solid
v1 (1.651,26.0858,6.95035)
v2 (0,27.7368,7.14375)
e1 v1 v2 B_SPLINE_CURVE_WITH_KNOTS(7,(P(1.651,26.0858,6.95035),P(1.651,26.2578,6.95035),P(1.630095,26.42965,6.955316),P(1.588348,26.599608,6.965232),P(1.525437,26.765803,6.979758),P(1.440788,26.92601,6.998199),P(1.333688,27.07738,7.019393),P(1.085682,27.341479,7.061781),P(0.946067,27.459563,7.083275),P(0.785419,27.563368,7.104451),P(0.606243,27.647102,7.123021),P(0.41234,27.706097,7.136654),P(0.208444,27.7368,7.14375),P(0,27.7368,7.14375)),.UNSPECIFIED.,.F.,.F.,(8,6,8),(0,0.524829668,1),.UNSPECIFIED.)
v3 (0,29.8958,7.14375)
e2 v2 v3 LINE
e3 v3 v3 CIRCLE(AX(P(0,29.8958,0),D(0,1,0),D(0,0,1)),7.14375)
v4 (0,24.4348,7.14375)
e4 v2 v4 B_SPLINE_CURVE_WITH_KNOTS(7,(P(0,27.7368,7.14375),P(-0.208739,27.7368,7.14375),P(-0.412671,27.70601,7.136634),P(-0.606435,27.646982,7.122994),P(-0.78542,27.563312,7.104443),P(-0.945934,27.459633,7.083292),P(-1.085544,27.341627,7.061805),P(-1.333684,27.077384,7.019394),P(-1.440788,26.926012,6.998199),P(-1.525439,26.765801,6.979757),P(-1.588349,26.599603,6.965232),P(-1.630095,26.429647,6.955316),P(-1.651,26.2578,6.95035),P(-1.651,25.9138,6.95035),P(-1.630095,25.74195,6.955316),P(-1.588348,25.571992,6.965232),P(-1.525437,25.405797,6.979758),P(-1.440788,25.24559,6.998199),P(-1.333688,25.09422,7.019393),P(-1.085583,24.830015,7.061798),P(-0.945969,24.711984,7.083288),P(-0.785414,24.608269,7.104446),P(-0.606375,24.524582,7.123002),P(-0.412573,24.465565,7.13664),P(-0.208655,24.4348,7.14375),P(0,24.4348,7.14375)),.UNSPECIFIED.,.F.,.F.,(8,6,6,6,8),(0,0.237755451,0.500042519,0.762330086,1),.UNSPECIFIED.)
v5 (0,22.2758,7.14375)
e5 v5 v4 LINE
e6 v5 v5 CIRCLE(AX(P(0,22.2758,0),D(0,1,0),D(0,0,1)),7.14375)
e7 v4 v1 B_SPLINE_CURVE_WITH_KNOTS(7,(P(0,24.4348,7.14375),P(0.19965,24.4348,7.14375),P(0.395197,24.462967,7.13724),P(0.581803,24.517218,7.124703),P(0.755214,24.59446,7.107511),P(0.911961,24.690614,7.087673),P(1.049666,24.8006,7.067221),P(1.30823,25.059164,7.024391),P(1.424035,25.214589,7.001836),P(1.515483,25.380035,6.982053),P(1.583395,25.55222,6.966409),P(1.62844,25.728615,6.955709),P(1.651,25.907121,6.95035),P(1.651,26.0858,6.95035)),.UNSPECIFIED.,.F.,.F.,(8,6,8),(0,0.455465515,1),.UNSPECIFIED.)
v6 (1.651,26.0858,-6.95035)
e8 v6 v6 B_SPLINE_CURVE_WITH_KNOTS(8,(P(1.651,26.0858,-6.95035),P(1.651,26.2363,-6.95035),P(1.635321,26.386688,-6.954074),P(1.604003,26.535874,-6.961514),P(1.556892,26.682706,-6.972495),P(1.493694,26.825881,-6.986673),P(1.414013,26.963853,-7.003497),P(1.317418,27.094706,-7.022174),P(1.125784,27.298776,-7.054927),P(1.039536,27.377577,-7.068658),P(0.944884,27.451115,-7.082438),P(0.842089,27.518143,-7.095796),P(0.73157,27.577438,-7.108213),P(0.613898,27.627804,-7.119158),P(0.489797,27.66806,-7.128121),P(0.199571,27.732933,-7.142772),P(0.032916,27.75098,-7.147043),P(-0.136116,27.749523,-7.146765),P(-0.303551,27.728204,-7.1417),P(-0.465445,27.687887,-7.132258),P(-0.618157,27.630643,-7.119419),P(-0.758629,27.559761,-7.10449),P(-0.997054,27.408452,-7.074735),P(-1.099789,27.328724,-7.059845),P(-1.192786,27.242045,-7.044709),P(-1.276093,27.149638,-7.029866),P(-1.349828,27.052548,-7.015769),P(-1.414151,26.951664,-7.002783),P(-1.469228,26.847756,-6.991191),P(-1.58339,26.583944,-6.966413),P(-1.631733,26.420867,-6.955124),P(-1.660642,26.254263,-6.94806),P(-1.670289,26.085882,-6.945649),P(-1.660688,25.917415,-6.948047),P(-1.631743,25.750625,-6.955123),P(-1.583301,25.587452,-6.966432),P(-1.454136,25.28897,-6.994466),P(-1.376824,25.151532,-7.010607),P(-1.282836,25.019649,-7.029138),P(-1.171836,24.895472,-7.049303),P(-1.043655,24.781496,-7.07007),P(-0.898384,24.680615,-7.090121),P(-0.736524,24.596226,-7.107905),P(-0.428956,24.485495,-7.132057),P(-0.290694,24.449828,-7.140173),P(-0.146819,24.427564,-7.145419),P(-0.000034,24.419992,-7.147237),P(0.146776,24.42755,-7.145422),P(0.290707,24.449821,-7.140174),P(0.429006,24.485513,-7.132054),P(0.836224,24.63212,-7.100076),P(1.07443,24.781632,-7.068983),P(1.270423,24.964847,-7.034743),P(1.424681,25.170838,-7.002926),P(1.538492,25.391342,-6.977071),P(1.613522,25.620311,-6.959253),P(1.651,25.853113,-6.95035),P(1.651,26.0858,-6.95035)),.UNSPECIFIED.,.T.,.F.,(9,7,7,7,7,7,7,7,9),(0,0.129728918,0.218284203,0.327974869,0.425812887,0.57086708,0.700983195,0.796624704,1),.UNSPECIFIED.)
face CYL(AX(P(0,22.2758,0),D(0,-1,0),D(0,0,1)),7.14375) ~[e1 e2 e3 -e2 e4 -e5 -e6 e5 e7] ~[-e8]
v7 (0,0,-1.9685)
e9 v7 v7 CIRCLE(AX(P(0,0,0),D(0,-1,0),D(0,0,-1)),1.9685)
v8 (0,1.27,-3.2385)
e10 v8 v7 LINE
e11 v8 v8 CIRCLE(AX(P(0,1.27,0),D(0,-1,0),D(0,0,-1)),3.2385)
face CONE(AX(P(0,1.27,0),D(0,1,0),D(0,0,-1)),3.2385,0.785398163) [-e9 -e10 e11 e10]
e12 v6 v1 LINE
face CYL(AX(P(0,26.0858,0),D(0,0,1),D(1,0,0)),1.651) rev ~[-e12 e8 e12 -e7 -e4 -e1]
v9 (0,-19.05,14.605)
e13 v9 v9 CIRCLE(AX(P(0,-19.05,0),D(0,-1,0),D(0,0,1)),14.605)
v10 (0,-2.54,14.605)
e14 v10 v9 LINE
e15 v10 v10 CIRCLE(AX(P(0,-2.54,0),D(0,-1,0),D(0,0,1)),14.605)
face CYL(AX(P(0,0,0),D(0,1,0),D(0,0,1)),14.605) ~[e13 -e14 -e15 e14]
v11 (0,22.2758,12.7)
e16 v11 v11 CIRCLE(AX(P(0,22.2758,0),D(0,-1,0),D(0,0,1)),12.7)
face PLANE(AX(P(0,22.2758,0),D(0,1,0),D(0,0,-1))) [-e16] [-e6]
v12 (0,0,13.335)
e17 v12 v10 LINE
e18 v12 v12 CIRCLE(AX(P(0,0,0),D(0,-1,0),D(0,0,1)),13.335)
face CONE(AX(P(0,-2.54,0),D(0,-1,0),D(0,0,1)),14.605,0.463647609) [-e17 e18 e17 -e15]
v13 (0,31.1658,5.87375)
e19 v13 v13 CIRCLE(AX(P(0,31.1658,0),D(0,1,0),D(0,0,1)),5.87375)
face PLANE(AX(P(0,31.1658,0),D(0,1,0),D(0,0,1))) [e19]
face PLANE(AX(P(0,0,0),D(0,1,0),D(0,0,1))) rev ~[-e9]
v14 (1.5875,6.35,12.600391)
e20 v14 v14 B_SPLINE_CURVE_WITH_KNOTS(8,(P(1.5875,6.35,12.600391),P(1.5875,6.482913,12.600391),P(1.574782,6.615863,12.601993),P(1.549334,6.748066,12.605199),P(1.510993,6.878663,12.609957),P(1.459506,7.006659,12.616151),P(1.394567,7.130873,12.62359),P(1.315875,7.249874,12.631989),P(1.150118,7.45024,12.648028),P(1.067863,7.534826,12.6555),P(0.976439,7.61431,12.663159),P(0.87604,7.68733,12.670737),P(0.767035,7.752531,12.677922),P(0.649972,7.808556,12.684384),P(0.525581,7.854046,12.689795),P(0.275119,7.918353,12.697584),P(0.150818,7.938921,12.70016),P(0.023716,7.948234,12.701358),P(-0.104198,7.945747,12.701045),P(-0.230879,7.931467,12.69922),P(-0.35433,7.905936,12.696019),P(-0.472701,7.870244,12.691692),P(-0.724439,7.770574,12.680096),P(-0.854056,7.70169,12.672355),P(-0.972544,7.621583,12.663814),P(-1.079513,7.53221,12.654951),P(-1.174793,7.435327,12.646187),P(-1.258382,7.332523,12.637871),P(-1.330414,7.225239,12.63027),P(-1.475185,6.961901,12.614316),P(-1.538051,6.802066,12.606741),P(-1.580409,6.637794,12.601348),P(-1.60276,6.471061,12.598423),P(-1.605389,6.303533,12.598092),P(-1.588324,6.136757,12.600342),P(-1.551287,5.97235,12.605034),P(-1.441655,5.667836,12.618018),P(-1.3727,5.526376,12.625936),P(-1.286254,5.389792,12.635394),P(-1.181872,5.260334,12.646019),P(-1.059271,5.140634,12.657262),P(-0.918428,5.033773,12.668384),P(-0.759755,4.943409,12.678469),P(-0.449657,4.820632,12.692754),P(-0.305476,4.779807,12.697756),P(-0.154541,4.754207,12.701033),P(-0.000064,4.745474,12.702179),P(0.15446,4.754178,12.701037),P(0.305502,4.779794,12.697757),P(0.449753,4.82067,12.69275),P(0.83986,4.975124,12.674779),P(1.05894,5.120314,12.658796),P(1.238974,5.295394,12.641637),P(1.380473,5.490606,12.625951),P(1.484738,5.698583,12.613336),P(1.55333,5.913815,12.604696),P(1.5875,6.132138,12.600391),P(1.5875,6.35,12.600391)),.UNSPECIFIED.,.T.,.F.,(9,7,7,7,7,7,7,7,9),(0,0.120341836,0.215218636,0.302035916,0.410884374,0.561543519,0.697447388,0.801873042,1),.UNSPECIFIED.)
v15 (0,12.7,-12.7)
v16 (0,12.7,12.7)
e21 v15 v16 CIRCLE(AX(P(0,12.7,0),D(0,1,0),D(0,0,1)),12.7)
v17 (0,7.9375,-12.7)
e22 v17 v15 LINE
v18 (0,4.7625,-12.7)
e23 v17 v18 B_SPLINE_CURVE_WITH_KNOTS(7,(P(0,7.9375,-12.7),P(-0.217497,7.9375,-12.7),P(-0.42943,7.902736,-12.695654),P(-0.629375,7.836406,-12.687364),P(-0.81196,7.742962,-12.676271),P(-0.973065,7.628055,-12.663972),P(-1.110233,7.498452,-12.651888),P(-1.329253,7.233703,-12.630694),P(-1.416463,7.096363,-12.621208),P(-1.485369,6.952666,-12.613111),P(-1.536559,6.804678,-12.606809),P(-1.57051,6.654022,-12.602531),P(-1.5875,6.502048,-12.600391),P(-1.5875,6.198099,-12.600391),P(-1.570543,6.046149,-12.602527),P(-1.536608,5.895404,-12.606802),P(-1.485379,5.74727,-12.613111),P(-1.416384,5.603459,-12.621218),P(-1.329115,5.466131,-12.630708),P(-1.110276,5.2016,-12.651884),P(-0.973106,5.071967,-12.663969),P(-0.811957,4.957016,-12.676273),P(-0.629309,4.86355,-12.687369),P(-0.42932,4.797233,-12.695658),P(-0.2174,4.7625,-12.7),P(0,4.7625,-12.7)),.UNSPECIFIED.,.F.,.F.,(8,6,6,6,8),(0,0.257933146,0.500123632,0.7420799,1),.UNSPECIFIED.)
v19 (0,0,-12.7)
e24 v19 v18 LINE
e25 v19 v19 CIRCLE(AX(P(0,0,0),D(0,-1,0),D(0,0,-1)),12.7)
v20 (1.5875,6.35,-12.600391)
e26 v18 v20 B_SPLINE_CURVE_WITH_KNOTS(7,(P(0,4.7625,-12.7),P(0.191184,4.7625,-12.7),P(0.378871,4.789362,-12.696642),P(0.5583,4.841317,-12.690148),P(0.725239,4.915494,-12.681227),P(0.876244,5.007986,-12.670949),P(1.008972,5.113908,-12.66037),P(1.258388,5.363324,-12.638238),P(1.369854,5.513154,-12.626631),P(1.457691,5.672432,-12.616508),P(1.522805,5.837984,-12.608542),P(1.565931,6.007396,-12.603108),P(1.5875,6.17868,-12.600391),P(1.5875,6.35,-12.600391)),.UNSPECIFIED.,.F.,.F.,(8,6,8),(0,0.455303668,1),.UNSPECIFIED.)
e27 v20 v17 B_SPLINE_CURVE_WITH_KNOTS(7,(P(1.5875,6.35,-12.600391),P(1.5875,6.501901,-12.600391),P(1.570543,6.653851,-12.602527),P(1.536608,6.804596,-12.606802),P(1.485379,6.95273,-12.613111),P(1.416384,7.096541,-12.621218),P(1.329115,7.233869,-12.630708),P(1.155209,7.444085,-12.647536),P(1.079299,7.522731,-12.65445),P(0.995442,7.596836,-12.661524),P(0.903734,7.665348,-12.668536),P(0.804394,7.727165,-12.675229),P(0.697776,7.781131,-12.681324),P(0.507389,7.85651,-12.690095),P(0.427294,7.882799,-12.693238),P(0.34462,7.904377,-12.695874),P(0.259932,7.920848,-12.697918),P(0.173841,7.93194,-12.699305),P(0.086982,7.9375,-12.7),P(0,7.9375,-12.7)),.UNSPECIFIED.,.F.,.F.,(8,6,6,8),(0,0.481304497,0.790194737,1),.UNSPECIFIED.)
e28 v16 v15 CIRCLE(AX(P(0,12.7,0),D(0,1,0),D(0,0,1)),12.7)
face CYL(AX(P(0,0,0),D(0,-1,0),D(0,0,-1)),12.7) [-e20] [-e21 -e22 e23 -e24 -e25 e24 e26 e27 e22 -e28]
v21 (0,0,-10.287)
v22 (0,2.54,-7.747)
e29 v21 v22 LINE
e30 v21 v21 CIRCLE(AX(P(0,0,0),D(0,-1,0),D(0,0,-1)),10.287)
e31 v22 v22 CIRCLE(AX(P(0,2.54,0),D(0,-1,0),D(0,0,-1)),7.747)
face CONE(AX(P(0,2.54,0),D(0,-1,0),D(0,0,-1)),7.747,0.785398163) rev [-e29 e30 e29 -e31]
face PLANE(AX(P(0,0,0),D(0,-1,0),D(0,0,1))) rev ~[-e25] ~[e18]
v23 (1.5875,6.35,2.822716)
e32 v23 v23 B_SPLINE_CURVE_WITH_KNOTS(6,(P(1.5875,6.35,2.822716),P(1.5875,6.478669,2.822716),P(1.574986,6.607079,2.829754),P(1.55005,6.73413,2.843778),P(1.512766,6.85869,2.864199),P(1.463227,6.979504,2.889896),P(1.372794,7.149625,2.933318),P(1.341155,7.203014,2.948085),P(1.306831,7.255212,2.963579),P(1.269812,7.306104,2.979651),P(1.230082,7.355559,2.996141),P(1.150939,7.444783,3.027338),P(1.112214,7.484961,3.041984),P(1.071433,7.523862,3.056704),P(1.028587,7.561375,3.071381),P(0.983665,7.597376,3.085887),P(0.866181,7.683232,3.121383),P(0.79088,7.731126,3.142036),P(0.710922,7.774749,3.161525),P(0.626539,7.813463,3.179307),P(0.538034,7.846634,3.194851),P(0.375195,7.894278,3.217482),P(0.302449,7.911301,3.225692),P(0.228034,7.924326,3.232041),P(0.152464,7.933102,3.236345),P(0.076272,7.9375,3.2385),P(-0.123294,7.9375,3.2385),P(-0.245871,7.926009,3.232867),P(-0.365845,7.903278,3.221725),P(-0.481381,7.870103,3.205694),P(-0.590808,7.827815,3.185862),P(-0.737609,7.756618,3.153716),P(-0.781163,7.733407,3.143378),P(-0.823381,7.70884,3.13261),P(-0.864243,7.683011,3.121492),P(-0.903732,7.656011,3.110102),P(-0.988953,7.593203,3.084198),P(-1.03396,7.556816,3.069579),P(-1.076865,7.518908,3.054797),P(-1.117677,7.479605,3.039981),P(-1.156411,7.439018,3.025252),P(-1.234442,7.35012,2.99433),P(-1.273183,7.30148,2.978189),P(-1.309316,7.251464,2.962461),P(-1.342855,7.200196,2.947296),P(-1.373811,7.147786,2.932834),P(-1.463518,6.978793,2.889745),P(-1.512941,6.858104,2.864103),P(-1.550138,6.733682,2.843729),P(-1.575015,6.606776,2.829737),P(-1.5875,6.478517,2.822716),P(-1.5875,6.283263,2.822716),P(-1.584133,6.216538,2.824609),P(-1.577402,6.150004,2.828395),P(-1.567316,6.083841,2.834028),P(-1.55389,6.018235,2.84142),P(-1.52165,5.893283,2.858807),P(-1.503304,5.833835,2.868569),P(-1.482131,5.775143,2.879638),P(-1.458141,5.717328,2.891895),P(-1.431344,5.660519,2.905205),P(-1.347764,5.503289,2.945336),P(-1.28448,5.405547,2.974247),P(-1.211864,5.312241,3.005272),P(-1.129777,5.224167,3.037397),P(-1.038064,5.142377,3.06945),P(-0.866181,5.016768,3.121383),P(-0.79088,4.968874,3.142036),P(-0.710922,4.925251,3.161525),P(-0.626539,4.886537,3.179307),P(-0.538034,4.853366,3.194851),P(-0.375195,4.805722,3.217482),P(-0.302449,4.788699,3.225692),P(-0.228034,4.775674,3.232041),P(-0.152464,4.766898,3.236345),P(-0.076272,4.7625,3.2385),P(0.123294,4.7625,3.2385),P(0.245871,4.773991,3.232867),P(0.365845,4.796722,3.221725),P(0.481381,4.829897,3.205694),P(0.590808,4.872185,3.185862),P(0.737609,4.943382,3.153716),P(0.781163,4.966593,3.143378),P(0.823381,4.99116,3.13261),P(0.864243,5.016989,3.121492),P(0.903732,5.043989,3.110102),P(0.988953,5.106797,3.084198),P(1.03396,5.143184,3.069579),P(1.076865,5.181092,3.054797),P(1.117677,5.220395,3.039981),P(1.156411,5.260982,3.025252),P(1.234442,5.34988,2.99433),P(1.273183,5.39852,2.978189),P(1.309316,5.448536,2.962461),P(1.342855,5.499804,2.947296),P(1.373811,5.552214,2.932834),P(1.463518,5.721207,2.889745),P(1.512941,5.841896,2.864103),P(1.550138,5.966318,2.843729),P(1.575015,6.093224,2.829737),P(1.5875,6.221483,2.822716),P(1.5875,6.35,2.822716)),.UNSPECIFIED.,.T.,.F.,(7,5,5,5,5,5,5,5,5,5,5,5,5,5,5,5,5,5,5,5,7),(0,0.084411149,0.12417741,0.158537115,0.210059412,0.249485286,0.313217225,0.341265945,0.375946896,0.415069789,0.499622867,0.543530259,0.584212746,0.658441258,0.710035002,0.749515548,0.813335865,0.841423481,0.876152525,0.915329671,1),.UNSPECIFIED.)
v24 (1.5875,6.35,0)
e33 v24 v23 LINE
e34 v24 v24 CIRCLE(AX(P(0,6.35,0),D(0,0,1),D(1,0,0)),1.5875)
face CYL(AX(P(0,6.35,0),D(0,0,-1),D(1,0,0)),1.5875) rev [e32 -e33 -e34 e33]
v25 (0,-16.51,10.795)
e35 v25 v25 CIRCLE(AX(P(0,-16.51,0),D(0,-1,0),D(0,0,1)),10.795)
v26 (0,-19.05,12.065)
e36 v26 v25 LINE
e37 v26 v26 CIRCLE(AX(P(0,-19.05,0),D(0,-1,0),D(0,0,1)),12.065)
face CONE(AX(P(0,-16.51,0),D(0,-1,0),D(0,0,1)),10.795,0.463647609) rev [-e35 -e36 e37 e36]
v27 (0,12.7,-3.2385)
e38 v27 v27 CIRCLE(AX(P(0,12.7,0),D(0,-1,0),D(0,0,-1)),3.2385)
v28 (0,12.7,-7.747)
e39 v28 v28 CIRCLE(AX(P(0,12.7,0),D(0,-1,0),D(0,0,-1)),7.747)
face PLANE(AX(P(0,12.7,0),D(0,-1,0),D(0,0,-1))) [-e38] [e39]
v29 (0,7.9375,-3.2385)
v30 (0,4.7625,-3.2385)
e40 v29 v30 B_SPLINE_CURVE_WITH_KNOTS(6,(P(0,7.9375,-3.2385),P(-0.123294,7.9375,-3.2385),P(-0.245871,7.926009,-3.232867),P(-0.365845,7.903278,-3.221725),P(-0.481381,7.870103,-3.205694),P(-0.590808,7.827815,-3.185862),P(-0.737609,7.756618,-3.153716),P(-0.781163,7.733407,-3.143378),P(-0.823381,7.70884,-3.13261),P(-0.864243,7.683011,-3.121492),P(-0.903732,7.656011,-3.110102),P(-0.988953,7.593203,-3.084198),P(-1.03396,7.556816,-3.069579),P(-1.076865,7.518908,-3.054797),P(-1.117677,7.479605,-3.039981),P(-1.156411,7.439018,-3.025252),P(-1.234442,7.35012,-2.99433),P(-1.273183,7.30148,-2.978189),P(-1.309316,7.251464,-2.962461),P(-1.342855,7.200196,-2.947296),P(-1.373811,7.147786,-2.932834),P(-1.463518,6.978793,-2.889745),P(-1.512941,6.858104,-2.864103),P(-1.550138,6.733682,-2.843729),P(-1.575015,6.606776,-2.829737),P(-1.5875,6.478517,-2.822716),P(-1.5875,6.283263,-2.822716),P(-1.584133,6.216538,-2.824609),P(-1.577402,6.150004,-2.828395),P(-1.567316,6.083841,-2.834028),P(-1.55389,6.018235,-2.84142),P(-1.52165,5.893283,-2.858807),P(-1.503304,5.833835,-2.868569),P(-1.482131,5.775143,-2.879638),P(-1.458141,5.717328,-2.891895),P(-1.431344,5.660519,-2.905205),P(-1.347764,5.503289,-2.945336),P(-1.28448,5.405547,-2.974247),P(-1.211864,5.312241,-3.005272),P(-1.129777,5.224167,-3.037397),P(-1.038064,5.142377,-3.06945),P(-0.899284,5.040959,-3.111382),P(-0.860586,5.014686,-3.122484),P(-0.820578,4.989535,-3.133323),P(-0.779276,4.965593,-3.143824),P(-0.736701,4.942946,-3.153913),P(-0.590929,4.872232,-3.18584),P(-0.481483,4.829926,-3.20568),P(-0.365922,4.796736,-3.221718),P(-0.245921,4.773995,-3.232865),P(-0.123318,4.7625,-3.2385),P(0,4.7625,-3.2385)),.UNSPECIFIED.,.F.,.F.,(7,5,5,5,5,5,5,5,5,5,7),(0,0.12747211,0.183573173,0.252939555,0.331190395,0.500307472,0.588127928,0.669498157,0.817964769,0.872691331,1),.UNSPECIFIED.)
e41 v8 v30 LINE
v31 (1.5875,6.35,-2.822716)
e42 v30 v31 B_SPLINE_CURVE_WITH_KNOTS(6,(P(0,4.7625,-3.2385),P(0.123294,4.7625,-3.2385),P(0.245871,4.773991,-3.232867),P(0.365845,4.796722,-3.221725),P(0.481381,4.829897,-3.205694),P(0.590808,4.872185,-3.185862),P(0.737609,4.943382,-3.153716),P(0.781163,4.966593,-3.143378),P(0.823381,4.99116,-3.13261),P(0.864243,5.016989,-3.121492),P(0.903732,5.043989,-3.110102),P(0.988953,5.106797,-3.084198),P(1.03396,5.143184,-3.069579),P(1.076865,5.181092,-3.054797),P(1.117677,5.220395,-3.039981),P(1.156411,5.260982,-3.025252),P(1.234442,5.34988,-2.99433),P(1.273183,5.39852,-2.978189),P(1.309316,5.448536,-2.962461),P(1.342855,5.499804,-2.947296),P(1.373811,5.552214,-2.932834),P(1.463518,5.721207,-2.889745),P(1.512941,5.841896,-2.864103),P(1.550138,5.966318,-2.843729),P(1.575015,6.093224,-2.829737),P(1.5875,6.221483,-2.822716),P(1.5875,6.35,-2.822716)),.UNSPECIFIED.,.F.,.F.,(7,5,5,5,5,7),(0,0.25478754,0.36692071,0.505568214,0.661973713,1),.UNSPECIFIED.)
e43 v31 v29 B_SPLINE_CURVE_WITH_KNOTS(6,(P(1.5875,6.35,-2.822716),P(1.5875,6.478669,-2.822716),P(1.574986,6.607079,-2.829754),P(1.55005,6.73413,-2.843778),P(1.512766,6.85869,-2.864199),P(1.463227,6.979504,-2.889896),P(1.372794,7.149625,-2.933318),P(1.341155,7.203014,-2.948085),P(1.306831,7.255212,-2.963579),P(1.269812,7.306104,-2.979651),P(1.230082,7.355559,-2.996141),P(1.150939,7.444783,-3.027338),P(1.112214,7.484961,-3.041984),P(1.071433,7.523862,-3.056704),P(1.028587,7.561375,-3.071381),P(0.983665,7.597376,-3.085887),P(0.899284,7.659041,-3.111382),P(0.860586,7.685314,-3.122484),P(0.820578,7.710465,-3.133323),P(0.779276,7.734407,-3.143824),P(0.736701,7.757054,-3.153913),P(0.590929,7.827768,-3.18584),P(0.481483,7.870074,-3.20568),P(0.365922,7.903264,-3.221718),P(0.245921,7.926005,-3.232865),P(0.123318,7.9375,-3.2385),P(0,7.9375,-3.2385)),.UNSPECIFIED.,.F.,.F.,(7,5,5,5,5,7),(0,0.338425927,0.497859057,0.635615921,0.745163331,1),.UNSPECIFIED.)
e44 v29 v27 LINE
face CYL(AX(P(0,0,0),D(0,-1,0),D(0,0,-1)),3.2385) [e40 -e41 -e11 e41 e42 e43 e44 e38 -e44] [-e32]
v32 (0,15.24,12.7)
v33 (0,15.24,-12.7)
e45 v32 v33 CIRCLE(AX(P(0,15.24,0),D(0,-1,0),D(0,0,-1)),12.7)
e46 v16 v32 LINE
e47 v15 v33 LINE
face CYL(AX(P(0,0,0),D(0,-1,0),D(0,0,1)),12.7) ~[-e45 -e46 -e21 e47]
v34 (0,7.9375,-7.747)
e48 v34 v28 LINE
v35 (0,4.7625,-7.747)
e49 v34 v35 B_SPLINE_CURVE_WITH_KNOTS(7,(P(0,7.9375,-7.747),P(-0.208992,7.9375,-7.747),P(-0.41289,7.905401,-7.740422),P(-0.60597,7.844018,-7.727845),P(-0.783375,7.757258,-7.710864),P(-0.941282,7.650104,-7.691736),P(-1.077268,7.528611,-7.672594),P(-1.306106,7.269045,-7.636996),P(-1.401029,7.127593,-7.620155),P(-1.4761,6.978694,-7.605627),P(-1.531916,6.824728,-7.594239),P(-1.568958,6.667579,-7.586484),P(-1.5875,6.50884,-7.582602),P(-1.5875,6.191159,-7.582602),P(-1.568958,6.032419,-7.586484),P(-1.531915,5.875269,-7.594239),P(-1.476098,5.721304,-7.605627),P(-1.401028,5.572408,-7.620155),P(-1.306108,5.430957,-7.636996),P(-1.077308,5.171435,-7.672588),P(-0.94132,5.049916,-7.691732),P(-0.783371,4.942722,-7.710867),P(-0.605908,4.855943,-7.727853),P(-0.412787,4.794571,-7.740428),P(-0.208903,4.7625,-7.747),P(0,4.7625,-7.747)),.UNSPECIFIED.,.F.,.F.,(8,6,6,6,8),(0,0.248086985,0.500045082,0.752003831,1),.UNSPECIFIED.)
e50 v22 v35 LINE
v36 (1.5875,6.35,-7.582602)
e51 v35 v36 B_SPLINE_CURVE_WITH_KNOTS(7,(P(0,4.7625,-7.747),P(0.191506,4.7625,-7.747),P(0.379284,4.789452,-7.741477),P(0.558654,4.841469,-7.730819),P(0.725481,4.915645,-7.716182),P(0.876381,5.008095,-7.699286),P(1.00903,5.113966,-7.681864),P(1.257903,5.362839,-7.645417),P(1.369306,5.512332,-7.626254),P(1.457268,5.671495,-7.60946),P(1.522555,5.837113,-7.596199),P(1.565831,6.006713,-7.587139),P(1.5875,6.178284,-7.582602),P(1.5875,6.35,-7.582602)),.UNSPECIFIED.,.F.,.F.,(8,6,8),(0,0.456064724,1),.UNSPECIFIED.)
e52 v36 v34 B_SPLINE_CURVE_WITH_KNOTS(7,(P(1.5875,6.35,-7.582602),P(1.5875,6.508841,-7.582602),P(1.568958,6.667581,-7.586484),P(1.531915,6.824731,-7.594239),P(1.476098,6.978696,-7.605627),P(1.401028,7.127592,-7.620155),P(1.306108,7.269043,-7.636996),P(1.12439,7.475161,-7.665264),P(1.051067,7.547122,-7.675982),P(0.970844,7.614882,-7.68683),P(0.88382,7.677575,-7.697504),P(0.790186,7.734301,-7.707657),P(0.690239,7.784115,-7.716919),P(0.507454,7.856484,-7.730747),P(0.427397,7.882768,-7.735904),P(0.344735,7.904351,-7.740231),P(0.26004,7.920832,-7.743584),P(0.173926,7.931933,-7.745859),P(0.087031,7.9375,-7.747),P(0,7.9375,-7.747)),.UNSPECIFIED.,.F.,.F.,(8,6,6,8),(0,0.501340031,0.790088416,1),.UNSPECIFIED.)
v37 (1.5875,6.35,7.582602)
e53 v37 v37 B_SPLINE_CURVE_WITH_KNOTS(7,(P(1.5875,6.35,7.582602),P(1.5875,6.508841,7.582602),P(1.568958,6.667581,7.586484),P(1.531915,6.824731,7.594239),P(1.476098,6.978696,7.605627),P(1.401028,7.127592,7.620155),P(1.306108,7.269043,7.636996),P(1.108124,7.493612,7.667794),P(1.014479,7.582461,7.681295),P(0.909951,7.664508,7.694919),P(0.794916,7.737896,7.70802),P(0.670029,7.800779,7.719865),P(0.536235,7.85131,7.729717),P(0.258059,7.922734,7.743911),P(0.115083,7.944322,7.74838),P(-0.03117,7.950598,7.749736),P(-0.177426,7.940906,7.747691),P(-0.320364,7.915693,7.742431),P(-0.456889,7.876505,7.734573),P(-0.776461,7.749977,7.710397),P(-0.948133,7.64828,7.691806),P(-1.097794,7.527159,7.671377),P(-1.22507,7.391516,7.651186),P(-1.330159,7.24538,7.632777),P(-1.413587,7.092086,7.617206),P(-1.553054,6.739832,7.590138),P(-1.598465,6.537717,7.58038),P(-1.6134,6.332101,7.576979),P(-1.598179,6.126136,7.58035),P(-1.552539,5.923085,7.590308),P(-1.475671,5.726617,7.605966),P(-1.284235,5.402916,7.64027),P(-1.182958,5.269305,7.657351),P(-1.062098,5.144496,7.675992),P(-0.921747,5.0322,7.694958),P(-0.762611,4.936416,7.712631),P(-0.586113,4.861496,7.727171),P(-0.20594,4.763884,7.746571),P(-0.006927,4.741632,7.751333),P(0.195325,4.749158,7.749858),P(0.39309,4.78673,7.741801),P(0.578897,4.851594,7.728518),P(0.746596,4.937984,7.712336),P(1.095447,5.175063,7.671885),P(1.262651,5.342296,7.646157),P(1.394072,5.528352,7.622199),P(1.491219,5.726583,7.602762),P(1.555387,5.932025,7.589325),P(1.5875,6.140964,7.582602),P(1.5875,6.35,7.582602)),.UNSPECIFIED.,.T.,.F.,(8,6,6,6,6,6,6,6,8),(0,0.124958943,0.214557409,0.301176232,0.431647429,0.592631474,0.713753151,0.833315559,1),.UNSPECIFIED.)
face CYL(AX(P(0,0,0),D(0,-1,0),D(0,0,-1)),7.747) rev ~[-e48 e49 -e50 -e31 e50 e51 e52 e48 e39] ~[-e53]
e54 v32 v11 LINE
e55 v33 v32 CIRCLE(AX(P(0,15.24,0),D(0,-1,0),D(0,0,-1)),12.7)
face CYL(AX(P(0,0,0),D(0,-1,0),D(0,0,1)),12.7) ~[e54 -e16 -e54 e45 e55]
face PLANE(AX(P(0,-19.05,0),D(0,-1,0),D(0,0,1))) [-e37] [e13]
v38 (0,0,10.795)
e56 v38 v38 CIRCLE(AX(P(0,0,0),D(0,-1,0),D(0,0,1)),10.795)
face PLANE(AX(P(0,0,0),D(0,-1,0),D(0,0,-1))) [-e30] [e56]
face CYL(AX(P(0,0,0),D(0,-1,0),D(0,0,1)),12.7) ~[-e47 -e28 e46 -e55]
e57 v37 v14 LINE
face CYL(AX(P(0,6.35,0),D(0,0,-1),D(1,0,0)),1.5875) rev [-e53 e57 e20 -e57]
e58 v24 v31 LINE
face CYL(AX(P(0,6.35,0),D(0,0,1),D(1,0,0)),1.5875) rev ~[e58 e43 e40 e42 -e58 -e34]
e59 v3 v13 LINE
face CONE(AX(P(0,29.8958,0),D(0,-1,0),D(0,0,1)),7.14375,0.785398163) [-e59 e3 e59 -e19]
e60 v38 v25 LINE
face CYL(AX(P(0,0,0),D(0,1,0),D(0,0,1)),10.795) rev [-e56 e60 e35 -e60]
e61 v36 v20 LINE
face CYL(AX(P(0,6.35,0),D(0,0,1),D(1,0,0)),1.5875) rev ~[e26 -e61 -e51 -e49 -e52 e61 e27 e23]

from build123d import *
from OCP.BRepFilletAPI import BRepFilletAPI_MakeChamfer

# Parameters (mm, degrees)
SKETCH1_R           = 12.7
BOSS_EXTRUDE1_DEPTH = 31.1658
SKETCH2_R           = 12.7
SKETCH2_R_2         = 3.2385
CUT_EXTRUDE1_DEPTH  = 12.7
CUT_EXTRUDE2_START  = -8.89
SKETCH3_R           = 12.7
SKETCH3_R_2         = 7.14375
CUT_EXTRUDE2_DEPTH  = 8.89
CHAMFER1_SIZE       = 1.27
SKETCH4_R           = 12.7
SKETCH4_R_2         = 7.747
BOSS_EXTRUDE2_DEPTH = 15.24
CHAMFER2_SIZE       = 2.54
SKETCH6_R           = 1.5875
SKETCH6_R_2         = 1.651
CUT_EXTRUDE3_DEPTH  = 50.8
SKETCH7_R           = 14.605
SKETCH7_R_2         = 10.795
BOSS_EXTRUDE3_DEPTH = 19.05
CHAMFER3_SIZE       = 1.27
CHAMFER3_SIZE2      = 2.54


with BuildPart() as part:
    # Sketch1 → Boss-Extrude1 (new body)
    with BuildSketch(Plane(origin=(0, 0, 0), x_dir=(1, 0, 0), z_dir=(0, 1, 0))):
        with Locations(Location((0, 0, 0), (0, 0, 270))):
            Circle(SKETCH1_R)
    extrude(amount=BOSS_EXTRUDE1_DEPTH)

    # Sketch2 → Cut-Extrude1 (cut)
    with BuildSketch(Plane.XZ):
        with Locations(Location((0, 0, 0), (0, 0, 270))):
            Circle(SKETCH2_R)
        with Locations(Location((0, 0, 0), (0, 0, 270))):
            Circle(SKETCH2_R_2, mode=Mode.SUBTRACT)
    extrude(amount=-CUT_EXTRUDE1_DEPTH, mode=Mode.SUBTRACT)

    # Sketch3 → Cut-Extrude2 (cut)
    with BuildSketch(Plane(origin=(0, 31.1658, 0), x_dir=(1, 0, 0), z_dir=(0, 1, 0)).offset(CUT_EXTRUDE2_START)):
        with Locations(Location((0, 0, 0), (0, 0, 90))):
            Circle(SKETCH3_R)
        with Locations(Location((0, 0, 0), (0, 0, 270))):
            Circle(SKETCH3_R_2, mode=Mode.SUBTRACT)
    extrude(amount=CUT_EXTRUDE2_DEPTH, mode=Mode.SUBTRACT)

    # Chamfer1
    chamfer1_edges = [part.edges().sort_by_distance(p)[0] for p in [
        (0, 31.1658, -7.14375),
        (0, 0, 3.2385),
    ]]
    chamfer(chamfer1_edges, length=CHAMFER1_SIZE)

    # Sketch4 → Boss-Extrude2 (add)
    with BuildSketch(Plane.XZ):
        with Locations(Location((0, 0, 0), (0, 0, 270))):
            Circle(SKETCH4_R)
        with Locations(Location((0, 0, 0), (0, 0, 270))):
            Circle(SKETCH4_R_2, mode=Mode.SUBTRACT)
    extrude(amount=-BOSS_EXTRUDE2_DEPTH)

    # Chamfer2
    chamfer2_edges = [part.edges().sort_by_distance(p)[0] for p in [
        (0, 0, 7.747),
    ]]
    chamfer(chamfer2_edges, length=CHAMFER2_SIZE)

    # Sketch6 → Cut-Extrude3 (cut, symmetric)
    with BuildSketch(Plane.XY):
        with Locations((0, 6.35)):
            Circle(SKETCH6_R)
        with Locations((0, 26.0858)):
            Circle(SKETCH6_R_2)
    extrude(amount=CUT_EXTRUDE3_DEPTH, both=True, mode=Mode.SUBTRACT)

    # Sketch7 → Boss-Extrude3 (add)
    with BuildSketch(Plane.XZ):
        with Locations(Location((0, 0, 0), (0, 0, 90))):
            Circle(SKETCH7_R)
        with Locations(Location((0, 0, 0), (0, 0, 90))):
            Circle(SKETCH7_R_2, mode=Mode.SUBTRACT)
    extrude(amount=BOSS_EXTRUDE3_DEPTH)

    # Chamfer3: one chamfer whose edges measure the first distance from different faces: ONE call of the kernel's chamfer builder (chamfer() names one face for all edges)
    chamfer3_edges_1 = [part.edges().sort_by_distance(p)[0] for p in [
        (0, 0, -14.605),
    ]]
    chamfer3_side_1 = [part.faces().sort_by_distance(p)[0] for p in [
        (0, 0, -14.191908218),
    ]]
    chamfer3_edges_2 = [part.edges().sort_by_distance(p)[0] for p in [
        (0, -19.05, -10.795),
    ]]
    chamfer3_side_2 = [part.faces().sort_by_distance(p)[0] for p in [
        (0, -19.05, -14.191908218),
    ]]
    chamfer3 = BRepFilletAPI_MakeChamfer(part.part.solid().wrapped)
    for e in chamfer3_edges_1:
        chamfer3.Add(CHAMFER3_SIZE, CHAMFER3_SIZE2, e.wrapped, chamfer3_side_1[0].wrapped)  # the first distance lies on this face
    for e in chamfer3_edges_2:
        chamfer3.Add(CHAMFER3_SIZE, CHAMFER3_SIZE2, e.wrapped, chamfer3_side_2[0].wrapped)  # the first distance lies on this face
    add(Compound.cast(chamfer3.Shape()), mode=Mode.REPLACE)


solid = part.part
